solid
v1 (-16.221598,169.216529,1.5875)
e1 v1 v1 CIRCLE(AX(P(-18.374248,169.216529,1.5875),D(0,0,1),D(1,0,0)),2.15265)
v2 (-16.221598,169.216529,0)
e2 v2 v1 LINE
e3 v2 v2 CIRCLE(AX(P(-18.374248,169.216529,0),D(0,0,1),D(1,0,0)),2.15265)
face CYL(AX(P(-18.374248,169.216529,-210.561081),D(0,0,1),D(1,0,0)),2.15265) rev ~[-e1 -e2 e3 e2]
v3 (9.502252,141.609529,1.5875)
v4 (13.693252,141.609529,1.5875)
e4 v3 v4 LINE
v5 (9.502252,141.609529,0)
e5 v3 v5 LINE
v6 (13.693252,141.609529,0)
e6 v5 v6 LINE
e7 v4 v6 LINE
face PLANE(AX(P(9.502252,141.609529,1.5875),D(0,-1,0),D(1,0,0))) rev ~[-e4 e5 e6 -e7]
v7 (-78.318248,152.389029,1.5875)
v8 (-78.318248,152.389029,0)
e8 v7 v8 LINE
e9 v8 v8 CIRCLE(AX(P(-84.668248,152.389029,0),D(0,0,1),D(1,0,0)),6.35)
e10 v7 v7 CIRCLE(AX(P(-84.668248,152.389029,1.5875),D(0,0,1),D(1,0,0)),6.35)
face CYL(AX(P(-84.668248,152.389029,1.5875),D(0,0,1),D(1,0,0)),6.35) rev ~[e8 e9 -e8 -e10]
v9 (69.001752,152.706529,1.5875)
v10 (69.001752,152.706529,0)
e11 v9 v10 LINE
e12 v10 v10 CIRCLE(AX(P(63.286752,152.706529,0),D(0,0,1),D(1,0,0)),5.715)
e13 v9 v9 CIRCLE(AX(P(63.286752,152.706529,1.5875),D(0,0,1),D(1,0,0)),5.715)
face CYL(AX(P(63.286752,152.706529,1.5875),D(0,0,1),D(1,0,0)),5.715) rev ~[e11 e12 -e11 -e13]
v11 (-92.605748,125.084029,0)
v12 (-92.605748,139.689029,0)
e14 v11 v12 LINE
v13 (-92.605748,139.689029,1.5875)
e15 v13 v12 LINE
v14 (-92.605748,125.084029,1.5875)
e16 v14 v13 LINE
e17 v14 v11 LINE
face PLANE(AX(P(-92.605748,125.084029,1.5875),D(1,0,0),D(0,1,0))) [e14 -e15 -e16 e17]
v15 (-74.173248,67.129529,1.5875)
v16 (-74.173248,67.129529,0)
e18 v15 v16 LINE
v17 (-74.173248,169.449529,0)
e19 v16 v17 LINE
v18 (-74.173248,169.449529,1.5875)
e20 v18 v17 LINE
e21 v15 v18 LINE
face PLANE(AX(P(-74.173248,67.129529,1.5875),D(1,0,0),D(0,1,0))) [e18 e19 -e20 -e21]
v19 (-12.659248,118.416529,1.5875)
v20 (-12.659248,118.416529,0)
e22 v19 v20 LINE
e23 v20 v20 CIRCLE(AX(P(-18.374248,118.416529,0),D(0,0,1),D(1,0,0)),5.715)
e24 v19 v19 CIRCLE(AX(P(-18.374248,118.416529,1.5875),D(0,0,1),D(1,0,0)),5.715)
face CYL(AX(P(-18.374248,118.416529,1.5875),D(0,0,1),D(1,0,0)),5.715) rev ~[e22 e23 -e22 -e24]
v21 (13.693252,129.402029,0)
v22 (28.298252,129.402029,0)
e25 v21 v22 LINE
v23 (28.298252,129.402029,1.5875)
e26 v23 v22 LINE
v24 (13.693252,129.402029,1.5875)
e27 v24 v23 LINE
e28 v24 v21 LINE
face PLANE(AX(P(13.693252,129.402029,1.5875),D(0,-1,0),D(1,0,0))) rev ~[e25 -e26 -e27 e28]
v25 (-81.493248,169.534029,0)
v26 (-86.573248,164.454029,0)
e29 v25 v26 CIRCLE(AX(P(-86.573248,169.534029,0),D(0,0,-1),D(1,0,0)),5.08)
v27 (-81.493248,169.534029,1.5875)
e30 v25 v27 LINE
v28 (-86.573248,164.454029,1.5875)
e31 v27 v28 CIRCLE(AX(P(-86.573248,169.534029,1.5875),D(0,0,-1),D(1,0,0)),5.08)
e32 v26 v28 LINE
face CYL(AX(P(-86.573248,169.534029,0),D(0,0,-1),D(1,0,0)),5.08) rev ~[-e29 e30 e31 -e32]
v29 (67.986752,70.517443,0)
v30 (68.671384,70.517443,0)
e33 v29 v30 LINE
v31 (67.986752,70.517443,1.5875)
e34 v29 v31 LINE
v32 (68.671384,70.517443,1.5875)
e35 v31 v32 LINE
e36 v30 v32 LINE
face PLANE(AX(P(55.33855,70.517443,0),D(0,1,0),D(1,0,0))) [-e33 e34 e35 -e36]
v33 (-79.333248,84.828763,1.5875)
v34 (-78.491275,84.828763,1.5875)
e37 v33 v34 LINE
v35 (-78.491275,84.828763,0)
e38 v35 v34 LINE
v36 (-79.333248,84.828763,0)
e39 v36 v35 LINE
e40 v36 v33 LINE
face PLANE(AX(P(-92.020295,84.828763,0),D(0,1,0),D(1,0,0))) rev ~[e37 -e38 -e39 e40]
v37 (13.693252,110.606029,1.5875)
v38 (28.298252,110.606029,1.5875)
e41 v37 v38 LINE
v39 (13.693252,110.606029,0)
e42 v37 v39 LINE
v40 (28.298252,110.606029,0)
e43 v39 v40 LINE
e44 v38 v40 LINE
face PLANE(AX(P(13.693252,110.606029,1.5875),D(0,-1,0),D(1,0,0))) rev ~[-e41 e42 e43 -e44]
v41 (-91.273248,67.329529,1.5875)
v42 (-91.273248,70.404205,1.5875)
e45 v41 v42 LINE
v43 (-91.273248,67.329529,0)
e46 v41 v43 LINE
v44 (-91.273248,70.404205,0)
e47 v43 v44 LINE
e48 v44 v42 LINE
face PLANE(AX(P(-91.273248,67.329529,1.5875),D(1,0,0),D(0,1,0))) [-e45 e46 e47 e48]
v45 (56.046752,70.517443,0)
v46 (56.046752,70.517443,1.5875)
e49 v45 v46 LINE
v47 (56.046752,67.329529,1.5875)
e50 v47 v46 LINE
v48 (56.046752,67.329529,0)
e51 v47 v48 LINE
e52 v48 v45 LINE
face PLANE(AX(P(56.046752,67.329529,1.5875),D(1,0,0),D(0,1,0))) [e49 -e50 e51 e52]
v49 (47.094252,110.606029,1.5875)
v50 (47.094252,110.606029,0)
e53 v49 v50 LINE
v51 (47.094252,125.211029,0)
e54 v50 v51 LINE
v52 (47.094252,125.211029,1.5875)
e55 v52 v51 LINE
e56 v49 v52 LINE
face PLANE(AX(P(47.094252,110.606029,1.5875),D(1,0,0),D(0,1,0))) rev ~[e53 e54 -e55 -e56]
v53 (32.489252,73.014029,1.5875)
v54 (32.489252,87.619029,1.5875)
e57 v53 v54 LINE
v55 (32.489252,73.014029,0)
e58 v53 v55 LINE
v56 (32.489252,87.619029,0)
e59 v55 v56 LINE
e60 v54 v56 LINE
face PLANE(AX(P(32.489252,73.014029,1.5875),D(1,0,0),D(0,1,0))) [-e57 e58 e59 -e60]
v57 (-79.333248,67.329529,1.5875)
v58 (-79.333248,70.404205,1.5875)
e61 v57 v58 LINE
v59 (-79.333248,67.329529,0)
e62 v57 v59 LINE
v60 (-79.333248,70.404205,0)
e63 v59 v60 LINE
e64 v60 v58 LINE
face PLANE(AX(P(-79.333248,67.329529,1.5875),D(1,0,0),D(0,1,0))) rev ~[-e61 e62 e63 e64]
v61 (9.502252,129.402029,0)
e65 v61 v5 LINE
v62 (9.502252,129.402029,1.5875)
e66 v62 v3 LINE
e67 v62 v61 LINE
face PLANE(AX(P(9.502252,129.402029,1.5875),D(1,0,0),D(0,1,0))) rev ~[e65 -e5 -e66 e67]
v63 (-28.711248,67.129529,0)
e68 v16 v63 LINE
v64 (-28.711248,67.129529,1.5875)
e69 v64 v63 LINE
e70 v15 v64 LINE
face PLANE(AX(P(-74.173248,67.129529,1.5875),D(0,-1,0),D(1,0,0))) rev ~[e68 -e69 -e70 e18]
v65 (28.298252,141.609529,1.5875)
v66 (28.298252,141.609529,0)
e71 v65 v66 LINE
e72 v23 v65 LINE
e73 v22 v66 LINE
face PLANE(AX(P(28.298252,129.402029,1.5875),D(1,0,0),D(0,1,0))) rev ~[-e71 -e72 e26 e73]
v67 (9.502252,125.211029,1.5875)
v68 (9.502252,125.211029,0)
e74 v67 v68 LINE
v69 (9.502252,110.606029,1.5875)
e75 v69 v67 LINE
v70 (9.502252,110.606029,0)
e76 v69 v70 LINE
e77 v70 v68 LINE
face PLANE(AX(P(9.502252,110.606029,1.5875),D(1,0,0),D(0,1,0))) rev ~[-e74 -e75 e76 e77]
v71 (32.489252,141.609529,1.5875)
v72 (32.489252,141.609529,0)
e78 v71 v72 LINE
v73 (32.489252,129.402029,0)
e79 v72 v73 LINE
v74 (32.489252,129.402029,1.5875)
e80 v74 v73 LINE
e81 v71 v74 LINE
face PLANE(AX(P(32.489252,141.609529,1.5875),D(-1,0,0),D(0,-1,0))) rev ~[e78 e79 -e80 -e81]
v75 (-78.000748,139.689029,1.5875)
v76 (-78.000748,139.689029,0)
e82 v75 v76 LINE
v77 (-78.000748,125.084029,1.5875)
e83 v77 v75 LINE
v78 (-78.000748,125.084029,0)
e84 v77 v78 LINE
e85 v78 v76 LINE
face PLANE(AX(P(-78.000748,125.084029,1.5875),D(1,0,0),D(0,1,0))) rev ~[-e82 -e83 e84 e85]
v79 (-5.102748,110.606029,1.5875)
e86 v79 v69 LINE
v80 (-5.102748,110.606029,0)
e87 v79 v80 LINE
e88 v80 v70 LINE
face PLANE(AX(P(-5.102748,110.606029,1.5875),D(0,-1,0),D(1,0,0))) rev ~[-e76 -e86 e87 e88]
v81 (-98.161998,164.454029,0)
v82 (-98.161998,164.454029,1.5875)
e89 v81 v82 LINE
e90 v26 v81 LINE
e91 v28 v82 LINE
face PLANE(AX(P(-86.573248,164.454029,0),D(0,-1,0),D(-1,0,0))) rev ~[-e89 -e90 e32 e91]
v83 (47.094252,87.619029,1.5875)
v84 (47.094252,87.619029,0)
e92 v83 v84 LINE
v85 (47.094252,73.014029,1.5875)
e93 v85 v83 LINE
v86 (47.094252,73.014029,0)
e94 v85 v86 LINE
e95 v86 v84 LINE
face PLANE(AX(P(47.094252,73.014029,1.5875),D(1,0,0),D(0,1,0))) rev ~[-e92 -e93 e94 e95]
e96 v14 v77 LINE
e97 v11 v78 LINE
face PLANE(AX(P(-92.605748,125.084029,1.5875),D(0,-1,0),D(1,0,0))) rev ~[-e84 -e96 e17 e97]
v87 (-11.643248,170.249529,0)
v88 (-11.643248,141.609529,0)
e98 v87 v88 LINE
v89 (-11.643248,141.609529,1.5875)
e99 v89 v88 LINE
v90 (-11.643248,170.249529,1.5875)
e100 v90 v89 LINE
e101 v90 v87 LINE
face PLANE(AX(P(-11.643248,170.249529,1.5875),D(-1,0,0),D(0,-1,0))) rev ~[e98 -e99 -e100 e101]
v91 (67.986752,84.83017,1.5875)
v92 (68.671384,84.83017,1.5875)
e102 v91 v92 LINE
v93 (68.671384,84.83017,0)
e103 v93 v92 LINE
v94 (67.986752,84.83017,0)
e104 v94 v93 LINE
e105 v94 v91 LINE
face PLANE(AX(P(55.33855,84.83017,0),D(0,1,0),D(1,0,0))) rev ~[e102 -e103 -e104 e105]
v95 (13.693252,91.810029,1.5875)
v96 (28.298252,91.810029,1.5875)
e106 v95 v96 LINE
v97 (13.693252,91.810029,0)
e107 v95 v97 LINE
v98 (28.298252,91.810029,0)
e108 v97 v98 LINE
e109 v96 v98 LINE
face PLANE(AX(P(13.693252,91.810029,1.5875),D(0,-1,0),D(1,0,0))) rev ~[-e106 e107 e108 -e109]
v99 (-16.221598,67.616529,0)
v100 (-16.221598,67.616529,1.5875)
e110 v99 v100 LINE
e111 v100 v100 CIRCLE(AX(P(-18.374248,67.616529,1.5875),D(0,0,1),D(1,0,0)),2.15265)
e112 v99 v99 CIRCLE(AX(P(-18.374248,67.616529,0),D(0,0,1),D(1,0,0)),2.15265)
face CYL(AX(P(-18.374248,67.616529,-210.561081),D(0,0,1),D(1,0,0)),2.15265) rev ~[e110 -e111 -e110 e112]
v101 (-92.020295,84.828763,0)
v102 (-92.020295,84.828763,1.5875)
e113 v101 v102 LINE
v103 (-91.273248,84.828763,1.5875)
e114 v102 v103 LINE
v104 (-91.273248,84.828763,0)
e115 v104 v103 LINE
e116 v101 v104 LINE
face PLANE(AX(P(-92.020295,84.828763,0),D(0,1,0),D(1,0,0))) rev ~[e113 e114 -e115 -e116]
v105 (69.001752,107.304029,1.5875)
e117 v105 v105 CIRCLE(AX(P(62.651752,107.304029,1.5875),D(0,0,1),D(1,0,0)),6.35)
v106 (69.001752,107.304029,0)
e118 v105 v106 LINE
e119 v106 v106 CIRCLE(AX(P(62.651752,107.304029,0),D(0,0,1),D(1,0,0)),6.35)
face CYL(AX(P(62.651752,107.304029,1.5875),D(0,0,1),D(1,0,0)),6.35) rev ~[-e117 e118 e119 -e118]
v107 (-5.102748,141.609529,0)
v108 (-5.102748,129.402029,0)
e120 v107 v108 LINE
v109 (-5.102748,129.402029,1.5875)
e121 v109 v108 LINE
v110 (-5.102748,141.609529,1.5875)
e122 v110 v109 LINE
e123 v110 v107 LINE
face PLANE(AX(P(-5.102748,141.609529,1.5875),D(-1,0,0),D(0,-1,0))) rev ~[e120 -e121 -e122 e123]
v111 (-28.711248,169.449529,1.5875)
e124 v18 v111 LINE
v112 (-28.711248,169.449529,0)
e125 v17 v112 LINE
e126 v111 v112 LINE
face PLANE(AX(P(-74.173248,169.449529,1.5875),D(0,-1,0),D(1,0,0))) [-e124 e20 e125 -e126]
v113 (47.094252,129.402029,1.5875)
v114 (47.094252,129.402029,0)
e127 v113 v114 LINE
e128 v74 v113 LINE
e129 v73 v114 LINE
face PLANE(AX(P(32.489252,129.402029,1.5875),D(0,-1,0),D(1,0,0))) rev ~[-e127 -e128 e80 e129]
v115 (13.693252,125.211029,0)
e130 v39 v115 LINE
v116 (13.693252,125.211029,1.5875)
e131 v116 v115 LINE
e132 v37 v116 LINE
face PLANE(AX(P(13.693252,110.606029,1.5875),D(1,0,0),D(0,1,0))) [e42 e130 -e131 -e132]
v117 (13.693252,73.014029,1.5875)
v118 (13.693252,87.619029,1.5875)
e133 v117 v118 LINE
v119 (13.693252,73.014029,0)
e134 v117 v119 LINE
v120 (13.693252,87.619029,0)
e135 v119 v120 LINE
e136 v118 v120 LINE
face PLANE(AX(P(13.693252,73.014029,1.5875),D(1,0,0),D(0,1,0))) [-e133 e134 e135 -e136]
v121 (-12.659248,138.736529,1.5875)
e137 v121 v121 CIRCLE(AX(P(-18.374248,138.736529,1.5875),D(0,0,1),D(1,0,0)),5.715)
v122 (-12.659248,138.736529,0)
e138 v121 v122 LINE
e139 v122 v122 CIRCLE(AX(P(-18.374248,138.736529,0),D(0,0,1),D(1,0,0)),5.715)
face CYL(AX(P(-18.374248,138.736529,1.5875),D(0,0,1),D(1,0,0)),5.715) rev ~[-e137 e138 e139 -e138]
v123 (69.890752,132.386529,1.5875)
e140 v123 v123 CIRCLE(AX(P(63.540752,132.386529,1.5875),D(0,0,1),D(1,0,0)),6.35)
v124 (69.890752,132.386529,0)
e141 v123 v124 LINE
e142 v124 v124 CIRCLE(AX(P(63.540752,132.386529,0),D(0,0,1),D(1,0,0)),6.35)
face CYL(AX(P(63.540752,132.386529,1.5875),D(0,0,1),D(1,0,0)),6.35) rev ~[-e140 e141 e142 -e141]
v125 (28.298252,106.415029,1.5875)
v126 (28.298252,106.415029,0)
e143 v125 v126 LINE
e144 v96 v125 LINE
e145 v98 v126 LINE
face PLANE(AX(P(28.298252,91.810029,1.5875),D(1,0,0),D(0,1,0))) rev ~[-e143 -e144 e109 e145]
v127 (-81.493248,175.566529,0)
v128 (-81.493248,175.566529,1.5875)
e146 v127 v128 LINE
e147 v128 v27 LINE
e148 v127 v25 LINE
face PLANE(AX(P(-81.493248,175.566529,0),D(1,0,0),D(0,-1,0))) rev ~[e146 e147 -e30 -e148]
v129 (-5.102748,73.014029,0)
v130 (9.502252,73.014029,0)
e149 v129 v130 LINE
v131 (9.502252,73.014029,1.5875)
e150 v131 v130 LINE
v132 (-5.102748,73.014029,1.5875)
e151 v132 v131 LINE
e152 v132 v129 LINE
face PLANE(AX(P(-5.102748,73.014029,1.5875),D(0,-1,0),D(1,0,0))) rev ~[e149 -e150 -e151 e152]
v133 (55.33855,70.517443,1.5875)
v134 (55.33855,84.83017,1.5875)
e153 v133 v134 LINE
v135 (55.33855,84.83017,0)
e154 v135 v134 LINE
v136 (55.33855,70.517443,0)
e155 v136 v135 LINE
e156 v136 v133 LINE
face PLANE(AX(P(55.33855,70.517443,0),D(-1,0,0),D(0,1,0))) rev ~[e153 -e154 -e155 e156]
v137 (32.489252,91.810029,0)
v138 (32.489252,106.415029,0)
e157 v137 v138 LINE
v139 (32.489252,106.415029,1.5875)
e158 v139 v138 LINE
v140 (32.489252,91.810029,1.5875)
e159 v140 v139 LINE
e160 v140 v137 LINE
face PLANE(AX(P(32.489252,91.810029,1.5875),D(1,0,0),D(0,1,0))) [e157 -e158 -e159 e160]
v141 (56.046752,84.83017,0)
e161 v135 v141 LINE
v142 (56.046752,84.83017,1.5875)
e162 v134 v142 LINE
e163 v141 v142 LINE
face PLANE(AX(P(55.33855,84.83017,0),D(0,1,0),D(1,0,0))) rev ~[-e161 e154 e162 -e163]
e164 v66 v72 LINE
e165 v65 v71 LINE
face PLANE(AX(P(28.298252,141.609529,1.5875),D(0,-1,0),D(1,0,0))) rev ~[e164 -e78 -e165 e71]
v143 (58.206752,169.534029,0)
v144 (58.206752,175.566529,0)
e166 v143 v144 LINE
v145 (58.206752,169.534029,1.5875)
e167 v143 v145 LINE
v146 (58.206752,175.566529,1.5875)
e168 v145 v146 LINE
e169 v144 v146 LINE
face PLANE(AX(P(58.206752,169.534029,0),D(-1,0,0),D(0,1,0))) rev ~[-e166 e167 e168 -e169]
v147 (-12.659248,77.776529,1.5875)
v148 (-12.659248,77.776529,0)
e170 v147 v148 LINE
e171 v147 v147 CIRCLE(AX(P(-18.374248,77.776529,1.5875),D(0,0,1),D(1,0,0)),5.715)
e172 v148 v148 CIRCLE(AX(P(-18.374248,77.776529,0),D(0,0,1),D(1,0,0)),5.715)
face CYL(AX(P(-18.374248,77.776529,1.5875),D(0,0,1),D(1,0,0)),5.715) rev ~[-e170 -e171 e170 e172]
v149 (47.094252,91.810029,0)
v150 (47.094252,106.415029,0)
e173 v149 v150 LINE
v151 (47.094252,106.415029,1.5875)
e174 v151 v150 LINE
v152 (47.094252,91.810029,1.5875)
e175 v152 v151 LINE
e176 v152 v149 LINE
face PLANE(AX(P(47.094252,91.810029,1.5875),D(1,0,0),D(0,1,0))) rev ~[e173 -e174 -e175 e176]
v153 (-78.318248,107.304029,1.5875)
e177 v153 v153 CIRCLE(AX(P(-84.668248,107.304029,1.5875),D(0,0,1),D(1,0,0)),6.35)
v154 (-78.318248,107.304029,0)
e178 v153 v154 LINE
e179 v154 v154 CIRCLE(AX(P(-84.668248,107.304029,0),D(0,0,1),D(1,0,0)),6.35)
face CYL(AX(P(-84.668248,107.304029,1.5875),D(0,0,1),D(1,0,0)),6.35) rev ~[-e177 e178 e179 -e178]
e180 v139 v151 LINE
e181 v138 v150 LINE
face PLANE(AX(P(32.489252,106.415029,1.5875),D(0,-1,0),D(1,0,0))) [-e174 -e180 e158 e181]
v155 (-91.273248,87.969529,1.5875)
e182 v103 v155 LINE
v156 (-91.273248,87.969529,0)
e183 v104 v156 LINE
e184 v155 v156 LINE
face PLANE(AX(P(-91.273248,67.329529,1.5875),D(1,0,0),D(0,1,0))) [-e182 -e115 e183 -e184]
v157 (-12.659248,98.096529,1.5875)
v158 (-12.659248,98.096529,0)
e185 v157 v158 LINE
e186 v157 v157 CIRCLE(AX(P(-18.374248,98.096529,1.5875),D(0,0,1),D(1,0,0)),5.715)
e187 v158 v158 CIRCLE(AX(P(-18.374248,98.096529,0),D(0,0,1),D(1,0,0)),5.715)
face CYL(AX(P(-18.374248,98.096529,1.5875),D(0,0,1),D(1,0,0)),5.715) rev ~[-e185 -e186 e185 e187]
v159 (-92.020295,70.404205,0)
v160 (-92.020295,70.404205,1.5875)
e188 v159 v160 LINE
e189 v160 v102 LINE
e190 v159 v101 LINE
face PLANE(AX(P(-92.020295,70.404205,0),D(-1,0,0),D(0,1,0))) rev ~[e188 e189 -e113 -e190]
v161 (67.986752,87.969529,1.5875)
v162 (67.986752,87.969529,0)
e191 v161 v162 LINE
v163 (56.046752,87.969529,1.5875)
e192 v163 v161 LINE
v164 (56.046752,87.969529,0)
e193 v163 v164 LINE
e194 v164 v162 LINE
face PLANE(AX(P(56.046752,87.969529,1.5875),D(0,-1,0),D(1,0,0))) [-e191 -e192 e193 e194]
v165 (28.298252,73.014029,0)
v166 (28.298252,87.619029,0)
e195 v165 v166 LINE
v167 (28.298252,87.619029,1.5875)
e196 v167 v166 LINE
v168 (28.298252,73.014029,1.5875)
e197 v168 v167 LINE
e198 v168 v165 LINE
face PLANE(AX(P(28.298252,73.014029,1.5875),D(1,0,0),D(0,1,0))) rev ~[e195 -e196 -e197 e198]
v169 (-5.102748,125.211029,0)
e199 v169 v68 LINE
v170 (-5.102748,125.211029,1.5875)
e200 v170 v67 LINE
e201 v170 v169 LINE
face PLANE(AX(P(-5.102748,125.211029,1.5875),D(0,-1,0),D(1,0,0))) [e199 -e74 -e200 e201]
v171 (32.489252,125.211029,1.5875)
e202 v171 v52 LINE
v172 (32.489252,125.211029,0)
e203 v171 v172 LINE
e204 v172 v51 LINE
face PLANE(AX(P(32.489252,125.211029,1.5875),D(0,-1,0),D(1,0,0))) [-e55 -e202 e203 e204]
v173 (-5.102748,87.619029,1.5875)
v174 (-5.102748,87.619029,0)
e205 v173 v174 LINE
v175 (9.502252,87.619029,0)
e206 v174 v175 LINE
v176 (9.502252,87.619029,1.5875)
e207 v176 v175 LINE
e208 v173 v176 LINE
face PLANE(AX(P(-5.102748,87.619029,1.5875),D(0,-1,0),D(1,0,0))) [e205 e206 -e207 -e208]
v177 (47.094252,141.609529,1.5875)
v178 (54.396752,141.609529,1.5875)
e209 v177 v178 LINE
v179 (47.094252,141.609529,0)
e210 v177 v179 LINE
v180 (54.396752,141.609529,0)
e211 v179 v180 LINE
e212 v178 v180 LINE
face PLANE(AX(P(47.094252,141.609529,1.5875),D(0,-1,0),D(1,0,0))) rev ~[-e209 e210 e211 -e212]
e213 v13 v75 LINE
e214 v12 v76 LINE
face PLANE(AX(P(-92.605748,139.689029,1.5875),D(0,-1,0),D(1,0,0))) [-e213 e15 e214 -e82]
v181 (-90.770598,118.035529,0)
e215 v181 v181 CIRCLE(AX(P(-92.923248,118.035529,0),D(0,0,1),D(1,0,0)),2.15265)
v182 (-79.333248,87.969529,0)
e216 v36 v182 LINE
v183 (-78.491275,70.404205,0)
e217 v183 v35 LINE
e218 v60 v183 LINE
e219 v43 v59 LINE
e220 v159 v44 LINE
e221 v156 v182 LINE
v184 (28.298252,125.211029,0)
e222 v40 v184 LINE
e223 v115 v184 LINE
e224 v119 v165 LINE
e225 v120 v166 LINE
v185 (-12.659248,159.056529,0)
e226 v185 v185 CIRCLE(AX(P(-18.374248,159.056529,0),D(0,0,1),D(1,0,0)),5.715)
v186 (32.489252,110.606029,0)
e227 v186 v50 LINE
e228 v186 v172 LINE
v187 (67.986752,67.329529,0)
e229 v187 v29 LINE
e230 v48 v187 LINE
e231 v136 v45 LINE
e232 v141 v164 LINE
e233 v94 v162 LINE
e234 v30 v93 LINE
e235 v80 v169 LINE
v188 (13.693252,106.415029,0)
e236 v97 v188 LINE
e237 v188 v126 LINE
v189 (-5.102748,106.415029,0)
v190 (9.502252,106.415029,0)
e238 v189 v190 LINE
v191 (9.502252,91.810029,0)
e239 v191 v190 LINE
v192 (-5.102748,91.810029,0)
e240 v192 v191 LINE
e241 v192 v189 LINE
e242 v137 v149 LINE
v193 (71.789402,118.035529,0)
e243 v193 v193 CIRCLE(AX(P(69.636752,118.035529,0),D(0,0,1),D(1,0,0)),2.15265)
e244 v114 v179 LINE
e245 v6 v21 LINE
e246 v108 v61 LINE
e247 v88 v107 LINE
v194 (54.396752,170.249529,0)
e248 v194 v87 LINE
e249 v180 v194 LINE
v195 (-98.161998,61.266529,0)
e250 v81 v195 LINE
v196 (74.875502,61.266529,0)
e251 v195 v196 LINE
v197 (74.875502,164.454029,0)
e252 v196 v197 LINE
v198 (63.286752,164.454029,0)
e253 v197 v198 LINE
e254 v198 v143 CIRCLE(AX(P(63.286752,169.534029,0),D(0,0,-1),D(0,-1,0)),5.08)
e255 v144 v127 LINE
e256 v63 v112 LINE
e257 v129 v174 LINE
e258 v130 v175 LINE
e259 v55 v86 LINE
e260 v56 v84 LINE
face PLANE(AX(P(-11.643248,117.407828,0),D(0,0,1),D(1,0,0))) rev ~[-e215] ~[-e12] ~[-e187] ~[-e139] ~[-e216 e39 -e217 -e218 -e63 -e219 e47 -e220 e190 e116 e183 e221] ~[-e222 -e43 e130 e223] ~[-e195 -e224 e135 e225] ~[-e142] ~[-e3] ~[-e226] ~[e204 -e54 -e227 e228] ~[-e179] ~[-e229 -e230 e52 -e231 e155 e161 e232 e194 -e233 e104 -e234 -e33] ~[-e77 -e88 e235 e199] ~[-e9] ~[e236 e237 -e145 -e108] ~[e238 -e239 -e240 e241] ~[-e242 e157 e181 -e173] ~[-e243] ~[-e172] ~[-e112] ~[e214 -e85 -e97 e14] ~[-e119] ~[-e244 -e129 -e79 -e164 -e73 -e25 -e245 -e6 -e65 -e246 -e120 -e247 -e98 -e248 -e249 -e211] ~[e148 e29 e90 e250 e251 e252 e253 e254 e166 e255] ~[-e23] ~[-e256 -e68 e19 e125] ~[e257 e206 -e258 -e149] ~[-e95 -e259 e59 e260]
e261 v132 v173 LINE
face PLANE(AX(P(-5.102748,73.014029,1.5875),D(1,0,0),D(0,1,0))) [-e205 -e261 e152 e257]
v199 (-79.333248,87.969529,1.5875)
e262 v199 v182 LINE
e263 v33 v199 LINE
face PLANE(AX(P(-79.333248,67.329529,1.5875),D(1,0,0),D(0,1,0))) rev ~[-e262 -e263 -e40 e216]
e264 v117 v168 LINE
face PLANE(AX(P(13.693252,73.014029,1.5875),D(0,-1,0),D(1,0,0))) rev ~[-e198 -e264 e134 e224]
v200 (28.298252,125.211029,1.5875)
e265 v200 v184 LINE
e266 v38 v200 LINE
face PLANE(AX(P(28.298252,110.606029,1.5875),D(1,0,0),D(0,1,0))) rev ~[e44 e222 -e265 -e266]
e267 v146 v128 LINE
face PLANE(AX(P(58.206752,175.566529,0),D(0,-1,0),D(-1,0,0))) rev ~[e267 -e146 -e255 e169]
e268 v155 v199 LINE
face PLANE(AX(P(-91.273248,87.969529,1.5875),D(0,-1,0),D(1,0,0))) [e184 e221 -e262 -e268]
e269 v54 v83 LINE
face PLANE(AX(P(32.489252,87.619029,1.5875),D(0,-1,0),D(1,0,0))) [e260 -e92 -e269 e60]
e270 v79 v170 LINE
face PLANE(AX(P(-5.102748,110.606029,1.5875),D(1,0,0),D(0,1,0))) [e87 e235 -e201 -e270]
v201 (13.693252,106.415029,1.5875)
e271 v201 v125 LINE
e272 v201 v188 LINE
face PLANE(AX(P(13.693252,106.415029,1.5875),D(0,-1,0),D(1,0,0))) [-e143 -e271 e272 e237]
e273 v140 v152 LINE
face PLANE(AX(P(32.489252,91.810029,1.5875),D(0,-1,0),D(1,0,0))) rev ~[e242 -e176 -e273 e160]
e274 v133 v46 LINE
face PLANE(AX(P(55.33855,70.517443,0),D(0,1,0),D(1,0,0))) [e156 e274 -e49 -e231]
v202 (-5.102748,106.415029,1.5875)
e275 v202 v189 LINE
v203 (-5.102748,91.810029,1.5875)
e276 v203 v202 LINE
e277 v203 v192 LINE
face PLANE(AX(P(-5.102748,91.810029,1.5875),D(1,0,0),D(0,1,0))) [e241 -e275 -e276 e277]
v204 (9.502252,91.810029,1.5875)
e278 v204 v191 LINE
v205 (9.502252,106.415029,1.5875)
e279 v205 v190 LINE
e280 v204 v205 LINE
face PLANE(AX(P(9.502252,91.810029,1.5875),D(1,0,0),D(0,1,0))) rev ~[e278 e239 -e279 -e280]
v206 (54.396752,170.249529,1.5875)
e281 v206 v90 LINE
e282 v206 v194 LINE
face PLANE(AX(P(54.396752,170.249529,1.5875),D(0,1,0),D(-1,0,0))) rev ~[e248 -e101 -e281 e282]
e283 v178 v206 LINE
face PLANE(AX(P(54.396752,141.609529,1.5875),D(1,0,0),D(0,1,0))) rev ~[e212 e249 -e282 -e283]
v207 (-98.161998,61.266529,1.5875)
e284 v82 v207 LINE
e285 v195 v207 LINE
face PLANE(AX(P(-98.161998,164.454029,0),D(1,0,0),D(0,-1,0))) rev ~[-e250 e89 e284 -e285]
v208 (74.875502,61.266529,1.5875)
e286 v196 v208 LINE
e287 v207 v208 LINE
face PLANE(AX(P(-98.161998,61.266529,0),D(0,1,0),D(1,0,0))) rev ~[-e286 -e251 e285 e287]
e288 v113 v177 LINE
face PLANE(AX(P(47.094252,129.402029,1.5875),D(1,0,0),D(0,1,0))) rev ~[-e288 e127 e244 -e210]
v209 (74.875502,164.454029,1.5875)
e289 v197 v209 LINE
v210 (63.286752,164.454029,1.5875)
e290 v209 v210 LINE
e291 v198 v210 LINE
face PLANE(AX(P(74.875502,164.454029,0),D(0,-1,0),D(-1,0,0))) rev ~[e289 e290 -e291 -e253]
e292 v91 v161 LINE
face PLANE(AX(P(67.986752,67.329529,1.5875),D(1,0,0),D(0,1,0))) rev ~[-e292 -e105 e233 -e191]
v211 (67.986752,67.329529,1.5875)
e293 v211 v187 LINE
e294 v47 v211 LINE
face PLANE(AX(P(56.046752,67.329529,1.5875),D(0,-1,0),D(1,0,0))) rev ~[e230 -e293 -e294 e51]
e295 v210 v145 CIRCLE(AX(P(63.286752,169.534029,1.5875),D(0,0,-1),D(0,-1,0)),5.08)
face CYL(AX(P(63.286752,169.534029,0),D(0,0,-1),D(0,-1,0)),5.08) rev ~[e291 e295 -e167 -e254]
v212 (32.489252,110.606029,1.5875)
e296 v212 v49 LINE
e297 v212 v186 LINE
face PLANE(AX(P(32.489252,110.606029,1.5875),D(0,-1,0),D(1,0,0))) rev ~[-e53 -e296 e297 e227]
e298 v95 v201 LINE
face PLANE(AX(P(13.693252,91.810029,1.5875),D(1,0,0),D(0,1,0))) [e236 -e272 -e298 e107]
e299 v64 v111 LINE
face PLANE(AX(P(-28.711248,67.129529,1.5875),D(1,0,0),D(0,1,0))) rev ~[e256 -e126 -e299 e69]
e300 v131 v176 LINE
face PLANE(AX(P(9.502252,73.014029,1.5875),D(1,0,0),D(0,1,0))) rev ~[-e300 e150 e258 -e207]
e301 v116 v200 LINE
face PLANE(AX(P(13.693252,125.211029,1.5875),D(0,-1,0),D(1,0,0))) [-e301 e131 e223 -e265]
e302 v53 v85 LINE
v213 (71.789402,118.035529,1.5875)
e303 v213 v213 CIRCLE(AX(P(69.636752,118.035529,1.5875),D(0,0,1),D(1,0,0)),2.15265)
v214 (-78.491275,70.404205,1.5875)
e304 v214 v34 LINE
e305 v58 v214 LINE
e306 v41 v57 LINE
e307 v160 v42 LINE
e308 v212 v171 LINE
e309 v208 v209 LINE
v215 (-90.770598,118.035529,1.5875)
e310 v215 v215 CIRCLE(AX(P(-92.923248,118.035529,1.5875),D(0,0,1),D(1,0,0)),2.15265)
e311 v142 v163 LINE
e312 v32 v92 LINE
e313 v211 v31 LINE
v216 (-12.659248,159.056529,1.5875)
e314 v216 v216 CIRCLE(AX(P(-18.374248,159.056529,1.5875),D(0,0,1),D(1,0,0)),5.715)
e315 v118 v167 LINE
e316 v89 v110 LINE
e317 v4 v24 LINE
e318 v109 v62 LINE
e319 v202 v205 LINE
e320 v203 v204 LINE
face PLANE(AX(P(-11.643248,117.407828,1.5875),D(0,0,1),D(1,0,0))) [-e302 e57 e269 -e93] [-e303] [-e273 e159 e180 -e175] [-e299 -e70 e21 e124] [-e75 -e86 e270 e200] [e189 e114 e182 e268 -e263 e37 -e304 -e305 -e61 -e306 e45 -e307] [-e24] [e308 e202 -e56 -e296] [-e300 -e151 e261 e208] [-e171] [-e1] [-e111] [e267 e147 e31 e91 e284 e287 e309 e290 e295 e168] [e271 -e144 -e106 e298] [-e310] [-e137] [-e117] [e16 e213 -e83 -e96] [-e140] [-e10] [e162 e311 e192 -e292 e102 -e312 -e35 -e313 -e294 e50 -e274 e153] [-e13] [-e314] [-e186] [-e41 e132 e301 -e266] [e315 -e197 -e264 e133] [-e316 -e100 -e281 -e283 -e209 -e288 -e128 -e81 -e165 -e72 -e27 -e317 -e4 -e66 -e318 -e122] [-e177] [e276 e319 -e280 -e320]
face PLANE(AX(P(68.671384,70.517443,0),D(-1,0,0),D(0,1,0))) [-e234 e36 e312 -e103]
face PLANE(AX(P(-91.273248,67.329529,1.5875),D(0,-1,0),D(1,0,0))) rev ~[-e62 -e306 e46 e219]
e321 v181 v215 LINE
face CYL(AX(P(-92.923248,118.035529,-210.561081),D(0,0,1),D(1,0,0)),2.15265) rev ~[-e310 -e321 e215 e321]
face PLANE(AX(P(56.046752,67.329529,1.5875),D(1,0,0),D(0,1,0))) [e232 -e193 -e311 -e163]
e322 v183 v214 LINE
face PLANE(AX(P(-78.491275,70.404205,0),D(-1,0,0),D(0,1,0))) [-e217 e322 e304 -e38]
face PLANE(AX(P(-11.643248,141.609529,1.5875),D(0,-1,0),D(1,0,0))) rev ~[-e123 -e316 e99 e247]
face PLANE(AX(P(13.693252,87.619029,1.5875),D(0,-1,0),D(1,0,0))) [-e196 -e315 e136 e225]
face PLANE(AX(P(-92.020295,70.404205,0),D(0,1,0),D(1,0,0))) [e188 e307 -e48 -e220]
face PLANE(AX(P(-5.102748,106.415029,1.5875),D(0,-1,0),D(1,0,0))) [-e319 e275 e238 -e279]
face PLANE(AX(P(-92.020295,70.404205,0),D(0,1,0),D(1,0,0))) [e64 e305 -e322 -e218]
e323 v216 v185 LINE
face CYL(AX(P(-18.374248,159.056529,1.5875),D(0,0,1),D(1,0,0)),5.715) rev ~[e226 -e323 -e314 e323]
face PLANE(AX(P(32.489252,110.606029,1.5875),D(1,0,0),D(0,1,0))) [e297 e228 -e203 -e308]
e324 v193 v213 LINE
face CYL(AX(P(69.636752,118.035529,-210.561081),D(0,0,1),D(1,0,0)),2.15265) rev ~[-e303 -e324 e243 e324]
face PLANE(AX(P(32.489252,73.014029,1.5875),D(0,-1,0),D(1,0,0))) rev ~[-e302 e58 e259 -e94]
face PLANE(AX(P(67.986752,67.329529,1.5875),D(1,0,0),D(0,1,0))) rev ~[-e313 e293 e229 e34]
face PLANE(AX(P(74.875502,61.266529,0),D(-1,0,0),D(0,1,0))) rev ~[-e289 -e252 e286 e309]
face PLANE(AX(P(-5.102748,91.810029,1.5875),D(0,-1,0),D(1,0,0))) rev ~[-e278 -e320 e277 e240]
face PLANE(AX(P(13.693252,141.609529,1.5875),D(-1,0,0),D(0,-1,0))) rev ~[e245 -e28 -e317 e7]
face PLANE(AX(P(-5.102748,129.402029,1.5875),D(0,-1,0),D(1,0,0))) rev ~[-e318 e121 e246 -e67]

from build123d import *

# Parameters (mm, degrees)
BOSS_EXTRUDE1_DEPTH   = 1.5875
SKETCH2_R             = 6.35
SKETCH2_R_2           = 5.715
SKETCH2_W             = 11.94
SKETCH2_H             = 20.64
SKETCH2_W_2           = 14.605
SKETCH2_H_2           = 14.605
SKETCH2_W_3           = 45.462
SKETCH2_H_3           = 102.32
CUT_EXTRUDE1_DEPTH    = 2.5875
F_6_CLEARANCE_HOLE2_D = 4.3053
CUT_EXTRUDE2_START    = -1.5875
SKETCH7_W             = 13.332833865
SKETCH7_H             = 14.312726798
SKETCH7_W_2           = 13.529020254
SKETCH7_H_2           = 14.424558237
CUT_EXTRUDE2_DEPTH    = 1.5875


with BuildPart() as part:
    # Sketch1 → Boss-Extrude1 (new body)
    with BuildSketch(Plane.XY):
        with BuildLine():
            Line((58.206752076, 169.534029068), (58.206752076, 175.566529068))
            Line((58.206752076, 175.566529068), (-81.493247924, 175.566529068))
            Line((-81.493247924, 175.566529068), (-81.493247924, 169.534029068))
            ThreePointArc((-81.493247924, 169.534029068), (-82.981145475, 165.941926619), (-86.573247924, 164.454029068))
            Line((-86.573247924, 164.454029068), (-98.161997924, 164.454029068))
            Line((-98.161997924, 164.454029068), (-98.161997924, 61.266529068))
            Line((-98.161997924, 61.266529068), (74.875502076, 61.266529068))
            Line((74.875502076, 61.266529068), (74.875502076, 164.454029068))
            Line((74.875502076, 164.454029068), (63.286752076, 164.454029068))
            ThreePointArc((63.286752076, 164.454029068), (59.694649628, 165.941926619), (58.206752076, 169.534029068))
        make_face()
    extrude(amount=BOSS_EXTRUDE1_DEPTH)

    # Sketch2 → Cut-Extrude1 (cut, through all)
    with BuildSketch(Plane.XY.offset(1.5875)):
        with Locations((-84.668247924, 152.389029068)):
            Circle(SKETCH2_R)
        with Locations((-84.668247924, 107.304029068)):
            Circle(SKETCH2_R)
        with Locations((63.540752076, 132.386529068)):
            Circle(SKETCH2_R)
        with Locations((62.651752076, 107.304029068)):
            Circle(SKETCH2_R)
        with Locations((-18.374247924, 77.776529068)):
            Circle(SKETCH2_R_2)
        with Locations((-18.374247924, 98.096529068)):
            Circle(SKETCH2_R_2)
        with Locations((-18.374247924, 118.416529068)):
            Circle(SKETCH2_R_2)
        with Locations((-18.374247924, 138.736529068)):
            Circle(SKETCH2_R_2)
        with Locations((-18.374247924, 159.056529068)):
            Circle(SKETCH2_R_2)
        with Locations((63.286752076, 152.706529068)):
            Circle(SKETCH2_R_2)
        with Locations((62.016752076, 77.649529068)):
            Rectangle(SKETCH2_W, SKETCH2_H)
        with Locations((39.791752076, 80.316529068)):
            Rectangle(SKETCH2_W_2, SKETCH2_H_2)
        with Locations((39.791752076, 99.112529068)):
            Rectangle(SKETCH2_W_2, SKETCH2_H_2)
        with Locations((39.791752076, 117.908529068)):
            Rectangle(SKETCH2_W_2, SKETCH2_H_2)
        with Locations((20.995752076, 80.316529068)):
            Rectangle(SKETCH2_W_2, SKETCH2_H_2)
        Polygon((32.489252076, 141.609529068), (32.489252076, 129.402029068), (47.094252076, 129.402029068), (47.094252076, 141.609529068), (54.396752076, 141.609529068), (54.396752076, 170.249529068), (-11.643247924, 170.249529068), (-11.643247924, 141.609529068), (-5.102747924, 141.609529068), (-5.102747924, 129.402029068), (9.502252076, 129.402029068), (9.502252076, 141.609529068), (13.693252076, 141.609529068), (13.693252076, 129.402029068), (28.298252076, 129.402029068), (28.298252076, 141.609529068), align=None)
        with Locations((20.995752076, 99.112529068)):
            Rectangle(SKETCH2_W_2, SKETCH2_H_2)
        with Locations((20.995752076, 117.908529068)):
            Rectangle(SKETCH2_W_2, SKETCH2_H_2)
        with Locations((2.199752076, 117.908529068)):
            Rectangle(SKETCH2_W_2, SKETCH2_H_2)
        with Locations((2.199752076, 99.112529068)):
            Rectangle(SKETCH2_W_2, SKETCH2_H_2)
        with Locations((2.199752076, 80.316529068)):
            Rectangle(SKETCH2_W_2, SKETCH2_H_2)
        with Locations((-85.303247924, 132.386529068)):
            Rectangle(SKETCH2_W_2, SKETCH2_H_2)
        with Locations((-51.442247924, 118.289529068)):
            Rectangle(SKETCH2_W_3, SKETCH2_H_3)
        with Locations((-85.303247924, 77.649529068)):
            Rectangle(SKETCH2_W, SKETCH2_H)
    extrude(amount=-CUT_EXTRUDE1_DEPTH, mode=Mode.SUBTRACT)

    # #6 Clearance Hole2 (through all)
    with Locations(Plane(origin=(-11.643247924, -6.662700632, -3.175), x_dir=(-1, 0, 0), z_dir=(0, 0, -1))):
        with Locations((-81.28, 124.6982297), (6.731, 175.8792297), (81.28, 124.6982297), (6.731, 74.2792297)):
            Hole(F_6_CLEARANCE_HOLE2_D / 2)

    # Sketch7 → Cut-Extrude2 (cut)
    with BuildSketch(Plane.XY.offset(1.5875).offset(CUT_EXTRUDE2_START)):
        with Locations((62.004967044, 77.673806769)):
            Rectangle(SKETCH7_W, SKETCH7_H)
        with Locations((-85.255785181, 77.616484213)):
            Rectangle(SKETCH7_W_2, SKETCH7_H_2)
    extrude(amount=CUT_EXTRUDE2_DEPTH, mode=Mode.SUBTRACT)


solid = part.part
